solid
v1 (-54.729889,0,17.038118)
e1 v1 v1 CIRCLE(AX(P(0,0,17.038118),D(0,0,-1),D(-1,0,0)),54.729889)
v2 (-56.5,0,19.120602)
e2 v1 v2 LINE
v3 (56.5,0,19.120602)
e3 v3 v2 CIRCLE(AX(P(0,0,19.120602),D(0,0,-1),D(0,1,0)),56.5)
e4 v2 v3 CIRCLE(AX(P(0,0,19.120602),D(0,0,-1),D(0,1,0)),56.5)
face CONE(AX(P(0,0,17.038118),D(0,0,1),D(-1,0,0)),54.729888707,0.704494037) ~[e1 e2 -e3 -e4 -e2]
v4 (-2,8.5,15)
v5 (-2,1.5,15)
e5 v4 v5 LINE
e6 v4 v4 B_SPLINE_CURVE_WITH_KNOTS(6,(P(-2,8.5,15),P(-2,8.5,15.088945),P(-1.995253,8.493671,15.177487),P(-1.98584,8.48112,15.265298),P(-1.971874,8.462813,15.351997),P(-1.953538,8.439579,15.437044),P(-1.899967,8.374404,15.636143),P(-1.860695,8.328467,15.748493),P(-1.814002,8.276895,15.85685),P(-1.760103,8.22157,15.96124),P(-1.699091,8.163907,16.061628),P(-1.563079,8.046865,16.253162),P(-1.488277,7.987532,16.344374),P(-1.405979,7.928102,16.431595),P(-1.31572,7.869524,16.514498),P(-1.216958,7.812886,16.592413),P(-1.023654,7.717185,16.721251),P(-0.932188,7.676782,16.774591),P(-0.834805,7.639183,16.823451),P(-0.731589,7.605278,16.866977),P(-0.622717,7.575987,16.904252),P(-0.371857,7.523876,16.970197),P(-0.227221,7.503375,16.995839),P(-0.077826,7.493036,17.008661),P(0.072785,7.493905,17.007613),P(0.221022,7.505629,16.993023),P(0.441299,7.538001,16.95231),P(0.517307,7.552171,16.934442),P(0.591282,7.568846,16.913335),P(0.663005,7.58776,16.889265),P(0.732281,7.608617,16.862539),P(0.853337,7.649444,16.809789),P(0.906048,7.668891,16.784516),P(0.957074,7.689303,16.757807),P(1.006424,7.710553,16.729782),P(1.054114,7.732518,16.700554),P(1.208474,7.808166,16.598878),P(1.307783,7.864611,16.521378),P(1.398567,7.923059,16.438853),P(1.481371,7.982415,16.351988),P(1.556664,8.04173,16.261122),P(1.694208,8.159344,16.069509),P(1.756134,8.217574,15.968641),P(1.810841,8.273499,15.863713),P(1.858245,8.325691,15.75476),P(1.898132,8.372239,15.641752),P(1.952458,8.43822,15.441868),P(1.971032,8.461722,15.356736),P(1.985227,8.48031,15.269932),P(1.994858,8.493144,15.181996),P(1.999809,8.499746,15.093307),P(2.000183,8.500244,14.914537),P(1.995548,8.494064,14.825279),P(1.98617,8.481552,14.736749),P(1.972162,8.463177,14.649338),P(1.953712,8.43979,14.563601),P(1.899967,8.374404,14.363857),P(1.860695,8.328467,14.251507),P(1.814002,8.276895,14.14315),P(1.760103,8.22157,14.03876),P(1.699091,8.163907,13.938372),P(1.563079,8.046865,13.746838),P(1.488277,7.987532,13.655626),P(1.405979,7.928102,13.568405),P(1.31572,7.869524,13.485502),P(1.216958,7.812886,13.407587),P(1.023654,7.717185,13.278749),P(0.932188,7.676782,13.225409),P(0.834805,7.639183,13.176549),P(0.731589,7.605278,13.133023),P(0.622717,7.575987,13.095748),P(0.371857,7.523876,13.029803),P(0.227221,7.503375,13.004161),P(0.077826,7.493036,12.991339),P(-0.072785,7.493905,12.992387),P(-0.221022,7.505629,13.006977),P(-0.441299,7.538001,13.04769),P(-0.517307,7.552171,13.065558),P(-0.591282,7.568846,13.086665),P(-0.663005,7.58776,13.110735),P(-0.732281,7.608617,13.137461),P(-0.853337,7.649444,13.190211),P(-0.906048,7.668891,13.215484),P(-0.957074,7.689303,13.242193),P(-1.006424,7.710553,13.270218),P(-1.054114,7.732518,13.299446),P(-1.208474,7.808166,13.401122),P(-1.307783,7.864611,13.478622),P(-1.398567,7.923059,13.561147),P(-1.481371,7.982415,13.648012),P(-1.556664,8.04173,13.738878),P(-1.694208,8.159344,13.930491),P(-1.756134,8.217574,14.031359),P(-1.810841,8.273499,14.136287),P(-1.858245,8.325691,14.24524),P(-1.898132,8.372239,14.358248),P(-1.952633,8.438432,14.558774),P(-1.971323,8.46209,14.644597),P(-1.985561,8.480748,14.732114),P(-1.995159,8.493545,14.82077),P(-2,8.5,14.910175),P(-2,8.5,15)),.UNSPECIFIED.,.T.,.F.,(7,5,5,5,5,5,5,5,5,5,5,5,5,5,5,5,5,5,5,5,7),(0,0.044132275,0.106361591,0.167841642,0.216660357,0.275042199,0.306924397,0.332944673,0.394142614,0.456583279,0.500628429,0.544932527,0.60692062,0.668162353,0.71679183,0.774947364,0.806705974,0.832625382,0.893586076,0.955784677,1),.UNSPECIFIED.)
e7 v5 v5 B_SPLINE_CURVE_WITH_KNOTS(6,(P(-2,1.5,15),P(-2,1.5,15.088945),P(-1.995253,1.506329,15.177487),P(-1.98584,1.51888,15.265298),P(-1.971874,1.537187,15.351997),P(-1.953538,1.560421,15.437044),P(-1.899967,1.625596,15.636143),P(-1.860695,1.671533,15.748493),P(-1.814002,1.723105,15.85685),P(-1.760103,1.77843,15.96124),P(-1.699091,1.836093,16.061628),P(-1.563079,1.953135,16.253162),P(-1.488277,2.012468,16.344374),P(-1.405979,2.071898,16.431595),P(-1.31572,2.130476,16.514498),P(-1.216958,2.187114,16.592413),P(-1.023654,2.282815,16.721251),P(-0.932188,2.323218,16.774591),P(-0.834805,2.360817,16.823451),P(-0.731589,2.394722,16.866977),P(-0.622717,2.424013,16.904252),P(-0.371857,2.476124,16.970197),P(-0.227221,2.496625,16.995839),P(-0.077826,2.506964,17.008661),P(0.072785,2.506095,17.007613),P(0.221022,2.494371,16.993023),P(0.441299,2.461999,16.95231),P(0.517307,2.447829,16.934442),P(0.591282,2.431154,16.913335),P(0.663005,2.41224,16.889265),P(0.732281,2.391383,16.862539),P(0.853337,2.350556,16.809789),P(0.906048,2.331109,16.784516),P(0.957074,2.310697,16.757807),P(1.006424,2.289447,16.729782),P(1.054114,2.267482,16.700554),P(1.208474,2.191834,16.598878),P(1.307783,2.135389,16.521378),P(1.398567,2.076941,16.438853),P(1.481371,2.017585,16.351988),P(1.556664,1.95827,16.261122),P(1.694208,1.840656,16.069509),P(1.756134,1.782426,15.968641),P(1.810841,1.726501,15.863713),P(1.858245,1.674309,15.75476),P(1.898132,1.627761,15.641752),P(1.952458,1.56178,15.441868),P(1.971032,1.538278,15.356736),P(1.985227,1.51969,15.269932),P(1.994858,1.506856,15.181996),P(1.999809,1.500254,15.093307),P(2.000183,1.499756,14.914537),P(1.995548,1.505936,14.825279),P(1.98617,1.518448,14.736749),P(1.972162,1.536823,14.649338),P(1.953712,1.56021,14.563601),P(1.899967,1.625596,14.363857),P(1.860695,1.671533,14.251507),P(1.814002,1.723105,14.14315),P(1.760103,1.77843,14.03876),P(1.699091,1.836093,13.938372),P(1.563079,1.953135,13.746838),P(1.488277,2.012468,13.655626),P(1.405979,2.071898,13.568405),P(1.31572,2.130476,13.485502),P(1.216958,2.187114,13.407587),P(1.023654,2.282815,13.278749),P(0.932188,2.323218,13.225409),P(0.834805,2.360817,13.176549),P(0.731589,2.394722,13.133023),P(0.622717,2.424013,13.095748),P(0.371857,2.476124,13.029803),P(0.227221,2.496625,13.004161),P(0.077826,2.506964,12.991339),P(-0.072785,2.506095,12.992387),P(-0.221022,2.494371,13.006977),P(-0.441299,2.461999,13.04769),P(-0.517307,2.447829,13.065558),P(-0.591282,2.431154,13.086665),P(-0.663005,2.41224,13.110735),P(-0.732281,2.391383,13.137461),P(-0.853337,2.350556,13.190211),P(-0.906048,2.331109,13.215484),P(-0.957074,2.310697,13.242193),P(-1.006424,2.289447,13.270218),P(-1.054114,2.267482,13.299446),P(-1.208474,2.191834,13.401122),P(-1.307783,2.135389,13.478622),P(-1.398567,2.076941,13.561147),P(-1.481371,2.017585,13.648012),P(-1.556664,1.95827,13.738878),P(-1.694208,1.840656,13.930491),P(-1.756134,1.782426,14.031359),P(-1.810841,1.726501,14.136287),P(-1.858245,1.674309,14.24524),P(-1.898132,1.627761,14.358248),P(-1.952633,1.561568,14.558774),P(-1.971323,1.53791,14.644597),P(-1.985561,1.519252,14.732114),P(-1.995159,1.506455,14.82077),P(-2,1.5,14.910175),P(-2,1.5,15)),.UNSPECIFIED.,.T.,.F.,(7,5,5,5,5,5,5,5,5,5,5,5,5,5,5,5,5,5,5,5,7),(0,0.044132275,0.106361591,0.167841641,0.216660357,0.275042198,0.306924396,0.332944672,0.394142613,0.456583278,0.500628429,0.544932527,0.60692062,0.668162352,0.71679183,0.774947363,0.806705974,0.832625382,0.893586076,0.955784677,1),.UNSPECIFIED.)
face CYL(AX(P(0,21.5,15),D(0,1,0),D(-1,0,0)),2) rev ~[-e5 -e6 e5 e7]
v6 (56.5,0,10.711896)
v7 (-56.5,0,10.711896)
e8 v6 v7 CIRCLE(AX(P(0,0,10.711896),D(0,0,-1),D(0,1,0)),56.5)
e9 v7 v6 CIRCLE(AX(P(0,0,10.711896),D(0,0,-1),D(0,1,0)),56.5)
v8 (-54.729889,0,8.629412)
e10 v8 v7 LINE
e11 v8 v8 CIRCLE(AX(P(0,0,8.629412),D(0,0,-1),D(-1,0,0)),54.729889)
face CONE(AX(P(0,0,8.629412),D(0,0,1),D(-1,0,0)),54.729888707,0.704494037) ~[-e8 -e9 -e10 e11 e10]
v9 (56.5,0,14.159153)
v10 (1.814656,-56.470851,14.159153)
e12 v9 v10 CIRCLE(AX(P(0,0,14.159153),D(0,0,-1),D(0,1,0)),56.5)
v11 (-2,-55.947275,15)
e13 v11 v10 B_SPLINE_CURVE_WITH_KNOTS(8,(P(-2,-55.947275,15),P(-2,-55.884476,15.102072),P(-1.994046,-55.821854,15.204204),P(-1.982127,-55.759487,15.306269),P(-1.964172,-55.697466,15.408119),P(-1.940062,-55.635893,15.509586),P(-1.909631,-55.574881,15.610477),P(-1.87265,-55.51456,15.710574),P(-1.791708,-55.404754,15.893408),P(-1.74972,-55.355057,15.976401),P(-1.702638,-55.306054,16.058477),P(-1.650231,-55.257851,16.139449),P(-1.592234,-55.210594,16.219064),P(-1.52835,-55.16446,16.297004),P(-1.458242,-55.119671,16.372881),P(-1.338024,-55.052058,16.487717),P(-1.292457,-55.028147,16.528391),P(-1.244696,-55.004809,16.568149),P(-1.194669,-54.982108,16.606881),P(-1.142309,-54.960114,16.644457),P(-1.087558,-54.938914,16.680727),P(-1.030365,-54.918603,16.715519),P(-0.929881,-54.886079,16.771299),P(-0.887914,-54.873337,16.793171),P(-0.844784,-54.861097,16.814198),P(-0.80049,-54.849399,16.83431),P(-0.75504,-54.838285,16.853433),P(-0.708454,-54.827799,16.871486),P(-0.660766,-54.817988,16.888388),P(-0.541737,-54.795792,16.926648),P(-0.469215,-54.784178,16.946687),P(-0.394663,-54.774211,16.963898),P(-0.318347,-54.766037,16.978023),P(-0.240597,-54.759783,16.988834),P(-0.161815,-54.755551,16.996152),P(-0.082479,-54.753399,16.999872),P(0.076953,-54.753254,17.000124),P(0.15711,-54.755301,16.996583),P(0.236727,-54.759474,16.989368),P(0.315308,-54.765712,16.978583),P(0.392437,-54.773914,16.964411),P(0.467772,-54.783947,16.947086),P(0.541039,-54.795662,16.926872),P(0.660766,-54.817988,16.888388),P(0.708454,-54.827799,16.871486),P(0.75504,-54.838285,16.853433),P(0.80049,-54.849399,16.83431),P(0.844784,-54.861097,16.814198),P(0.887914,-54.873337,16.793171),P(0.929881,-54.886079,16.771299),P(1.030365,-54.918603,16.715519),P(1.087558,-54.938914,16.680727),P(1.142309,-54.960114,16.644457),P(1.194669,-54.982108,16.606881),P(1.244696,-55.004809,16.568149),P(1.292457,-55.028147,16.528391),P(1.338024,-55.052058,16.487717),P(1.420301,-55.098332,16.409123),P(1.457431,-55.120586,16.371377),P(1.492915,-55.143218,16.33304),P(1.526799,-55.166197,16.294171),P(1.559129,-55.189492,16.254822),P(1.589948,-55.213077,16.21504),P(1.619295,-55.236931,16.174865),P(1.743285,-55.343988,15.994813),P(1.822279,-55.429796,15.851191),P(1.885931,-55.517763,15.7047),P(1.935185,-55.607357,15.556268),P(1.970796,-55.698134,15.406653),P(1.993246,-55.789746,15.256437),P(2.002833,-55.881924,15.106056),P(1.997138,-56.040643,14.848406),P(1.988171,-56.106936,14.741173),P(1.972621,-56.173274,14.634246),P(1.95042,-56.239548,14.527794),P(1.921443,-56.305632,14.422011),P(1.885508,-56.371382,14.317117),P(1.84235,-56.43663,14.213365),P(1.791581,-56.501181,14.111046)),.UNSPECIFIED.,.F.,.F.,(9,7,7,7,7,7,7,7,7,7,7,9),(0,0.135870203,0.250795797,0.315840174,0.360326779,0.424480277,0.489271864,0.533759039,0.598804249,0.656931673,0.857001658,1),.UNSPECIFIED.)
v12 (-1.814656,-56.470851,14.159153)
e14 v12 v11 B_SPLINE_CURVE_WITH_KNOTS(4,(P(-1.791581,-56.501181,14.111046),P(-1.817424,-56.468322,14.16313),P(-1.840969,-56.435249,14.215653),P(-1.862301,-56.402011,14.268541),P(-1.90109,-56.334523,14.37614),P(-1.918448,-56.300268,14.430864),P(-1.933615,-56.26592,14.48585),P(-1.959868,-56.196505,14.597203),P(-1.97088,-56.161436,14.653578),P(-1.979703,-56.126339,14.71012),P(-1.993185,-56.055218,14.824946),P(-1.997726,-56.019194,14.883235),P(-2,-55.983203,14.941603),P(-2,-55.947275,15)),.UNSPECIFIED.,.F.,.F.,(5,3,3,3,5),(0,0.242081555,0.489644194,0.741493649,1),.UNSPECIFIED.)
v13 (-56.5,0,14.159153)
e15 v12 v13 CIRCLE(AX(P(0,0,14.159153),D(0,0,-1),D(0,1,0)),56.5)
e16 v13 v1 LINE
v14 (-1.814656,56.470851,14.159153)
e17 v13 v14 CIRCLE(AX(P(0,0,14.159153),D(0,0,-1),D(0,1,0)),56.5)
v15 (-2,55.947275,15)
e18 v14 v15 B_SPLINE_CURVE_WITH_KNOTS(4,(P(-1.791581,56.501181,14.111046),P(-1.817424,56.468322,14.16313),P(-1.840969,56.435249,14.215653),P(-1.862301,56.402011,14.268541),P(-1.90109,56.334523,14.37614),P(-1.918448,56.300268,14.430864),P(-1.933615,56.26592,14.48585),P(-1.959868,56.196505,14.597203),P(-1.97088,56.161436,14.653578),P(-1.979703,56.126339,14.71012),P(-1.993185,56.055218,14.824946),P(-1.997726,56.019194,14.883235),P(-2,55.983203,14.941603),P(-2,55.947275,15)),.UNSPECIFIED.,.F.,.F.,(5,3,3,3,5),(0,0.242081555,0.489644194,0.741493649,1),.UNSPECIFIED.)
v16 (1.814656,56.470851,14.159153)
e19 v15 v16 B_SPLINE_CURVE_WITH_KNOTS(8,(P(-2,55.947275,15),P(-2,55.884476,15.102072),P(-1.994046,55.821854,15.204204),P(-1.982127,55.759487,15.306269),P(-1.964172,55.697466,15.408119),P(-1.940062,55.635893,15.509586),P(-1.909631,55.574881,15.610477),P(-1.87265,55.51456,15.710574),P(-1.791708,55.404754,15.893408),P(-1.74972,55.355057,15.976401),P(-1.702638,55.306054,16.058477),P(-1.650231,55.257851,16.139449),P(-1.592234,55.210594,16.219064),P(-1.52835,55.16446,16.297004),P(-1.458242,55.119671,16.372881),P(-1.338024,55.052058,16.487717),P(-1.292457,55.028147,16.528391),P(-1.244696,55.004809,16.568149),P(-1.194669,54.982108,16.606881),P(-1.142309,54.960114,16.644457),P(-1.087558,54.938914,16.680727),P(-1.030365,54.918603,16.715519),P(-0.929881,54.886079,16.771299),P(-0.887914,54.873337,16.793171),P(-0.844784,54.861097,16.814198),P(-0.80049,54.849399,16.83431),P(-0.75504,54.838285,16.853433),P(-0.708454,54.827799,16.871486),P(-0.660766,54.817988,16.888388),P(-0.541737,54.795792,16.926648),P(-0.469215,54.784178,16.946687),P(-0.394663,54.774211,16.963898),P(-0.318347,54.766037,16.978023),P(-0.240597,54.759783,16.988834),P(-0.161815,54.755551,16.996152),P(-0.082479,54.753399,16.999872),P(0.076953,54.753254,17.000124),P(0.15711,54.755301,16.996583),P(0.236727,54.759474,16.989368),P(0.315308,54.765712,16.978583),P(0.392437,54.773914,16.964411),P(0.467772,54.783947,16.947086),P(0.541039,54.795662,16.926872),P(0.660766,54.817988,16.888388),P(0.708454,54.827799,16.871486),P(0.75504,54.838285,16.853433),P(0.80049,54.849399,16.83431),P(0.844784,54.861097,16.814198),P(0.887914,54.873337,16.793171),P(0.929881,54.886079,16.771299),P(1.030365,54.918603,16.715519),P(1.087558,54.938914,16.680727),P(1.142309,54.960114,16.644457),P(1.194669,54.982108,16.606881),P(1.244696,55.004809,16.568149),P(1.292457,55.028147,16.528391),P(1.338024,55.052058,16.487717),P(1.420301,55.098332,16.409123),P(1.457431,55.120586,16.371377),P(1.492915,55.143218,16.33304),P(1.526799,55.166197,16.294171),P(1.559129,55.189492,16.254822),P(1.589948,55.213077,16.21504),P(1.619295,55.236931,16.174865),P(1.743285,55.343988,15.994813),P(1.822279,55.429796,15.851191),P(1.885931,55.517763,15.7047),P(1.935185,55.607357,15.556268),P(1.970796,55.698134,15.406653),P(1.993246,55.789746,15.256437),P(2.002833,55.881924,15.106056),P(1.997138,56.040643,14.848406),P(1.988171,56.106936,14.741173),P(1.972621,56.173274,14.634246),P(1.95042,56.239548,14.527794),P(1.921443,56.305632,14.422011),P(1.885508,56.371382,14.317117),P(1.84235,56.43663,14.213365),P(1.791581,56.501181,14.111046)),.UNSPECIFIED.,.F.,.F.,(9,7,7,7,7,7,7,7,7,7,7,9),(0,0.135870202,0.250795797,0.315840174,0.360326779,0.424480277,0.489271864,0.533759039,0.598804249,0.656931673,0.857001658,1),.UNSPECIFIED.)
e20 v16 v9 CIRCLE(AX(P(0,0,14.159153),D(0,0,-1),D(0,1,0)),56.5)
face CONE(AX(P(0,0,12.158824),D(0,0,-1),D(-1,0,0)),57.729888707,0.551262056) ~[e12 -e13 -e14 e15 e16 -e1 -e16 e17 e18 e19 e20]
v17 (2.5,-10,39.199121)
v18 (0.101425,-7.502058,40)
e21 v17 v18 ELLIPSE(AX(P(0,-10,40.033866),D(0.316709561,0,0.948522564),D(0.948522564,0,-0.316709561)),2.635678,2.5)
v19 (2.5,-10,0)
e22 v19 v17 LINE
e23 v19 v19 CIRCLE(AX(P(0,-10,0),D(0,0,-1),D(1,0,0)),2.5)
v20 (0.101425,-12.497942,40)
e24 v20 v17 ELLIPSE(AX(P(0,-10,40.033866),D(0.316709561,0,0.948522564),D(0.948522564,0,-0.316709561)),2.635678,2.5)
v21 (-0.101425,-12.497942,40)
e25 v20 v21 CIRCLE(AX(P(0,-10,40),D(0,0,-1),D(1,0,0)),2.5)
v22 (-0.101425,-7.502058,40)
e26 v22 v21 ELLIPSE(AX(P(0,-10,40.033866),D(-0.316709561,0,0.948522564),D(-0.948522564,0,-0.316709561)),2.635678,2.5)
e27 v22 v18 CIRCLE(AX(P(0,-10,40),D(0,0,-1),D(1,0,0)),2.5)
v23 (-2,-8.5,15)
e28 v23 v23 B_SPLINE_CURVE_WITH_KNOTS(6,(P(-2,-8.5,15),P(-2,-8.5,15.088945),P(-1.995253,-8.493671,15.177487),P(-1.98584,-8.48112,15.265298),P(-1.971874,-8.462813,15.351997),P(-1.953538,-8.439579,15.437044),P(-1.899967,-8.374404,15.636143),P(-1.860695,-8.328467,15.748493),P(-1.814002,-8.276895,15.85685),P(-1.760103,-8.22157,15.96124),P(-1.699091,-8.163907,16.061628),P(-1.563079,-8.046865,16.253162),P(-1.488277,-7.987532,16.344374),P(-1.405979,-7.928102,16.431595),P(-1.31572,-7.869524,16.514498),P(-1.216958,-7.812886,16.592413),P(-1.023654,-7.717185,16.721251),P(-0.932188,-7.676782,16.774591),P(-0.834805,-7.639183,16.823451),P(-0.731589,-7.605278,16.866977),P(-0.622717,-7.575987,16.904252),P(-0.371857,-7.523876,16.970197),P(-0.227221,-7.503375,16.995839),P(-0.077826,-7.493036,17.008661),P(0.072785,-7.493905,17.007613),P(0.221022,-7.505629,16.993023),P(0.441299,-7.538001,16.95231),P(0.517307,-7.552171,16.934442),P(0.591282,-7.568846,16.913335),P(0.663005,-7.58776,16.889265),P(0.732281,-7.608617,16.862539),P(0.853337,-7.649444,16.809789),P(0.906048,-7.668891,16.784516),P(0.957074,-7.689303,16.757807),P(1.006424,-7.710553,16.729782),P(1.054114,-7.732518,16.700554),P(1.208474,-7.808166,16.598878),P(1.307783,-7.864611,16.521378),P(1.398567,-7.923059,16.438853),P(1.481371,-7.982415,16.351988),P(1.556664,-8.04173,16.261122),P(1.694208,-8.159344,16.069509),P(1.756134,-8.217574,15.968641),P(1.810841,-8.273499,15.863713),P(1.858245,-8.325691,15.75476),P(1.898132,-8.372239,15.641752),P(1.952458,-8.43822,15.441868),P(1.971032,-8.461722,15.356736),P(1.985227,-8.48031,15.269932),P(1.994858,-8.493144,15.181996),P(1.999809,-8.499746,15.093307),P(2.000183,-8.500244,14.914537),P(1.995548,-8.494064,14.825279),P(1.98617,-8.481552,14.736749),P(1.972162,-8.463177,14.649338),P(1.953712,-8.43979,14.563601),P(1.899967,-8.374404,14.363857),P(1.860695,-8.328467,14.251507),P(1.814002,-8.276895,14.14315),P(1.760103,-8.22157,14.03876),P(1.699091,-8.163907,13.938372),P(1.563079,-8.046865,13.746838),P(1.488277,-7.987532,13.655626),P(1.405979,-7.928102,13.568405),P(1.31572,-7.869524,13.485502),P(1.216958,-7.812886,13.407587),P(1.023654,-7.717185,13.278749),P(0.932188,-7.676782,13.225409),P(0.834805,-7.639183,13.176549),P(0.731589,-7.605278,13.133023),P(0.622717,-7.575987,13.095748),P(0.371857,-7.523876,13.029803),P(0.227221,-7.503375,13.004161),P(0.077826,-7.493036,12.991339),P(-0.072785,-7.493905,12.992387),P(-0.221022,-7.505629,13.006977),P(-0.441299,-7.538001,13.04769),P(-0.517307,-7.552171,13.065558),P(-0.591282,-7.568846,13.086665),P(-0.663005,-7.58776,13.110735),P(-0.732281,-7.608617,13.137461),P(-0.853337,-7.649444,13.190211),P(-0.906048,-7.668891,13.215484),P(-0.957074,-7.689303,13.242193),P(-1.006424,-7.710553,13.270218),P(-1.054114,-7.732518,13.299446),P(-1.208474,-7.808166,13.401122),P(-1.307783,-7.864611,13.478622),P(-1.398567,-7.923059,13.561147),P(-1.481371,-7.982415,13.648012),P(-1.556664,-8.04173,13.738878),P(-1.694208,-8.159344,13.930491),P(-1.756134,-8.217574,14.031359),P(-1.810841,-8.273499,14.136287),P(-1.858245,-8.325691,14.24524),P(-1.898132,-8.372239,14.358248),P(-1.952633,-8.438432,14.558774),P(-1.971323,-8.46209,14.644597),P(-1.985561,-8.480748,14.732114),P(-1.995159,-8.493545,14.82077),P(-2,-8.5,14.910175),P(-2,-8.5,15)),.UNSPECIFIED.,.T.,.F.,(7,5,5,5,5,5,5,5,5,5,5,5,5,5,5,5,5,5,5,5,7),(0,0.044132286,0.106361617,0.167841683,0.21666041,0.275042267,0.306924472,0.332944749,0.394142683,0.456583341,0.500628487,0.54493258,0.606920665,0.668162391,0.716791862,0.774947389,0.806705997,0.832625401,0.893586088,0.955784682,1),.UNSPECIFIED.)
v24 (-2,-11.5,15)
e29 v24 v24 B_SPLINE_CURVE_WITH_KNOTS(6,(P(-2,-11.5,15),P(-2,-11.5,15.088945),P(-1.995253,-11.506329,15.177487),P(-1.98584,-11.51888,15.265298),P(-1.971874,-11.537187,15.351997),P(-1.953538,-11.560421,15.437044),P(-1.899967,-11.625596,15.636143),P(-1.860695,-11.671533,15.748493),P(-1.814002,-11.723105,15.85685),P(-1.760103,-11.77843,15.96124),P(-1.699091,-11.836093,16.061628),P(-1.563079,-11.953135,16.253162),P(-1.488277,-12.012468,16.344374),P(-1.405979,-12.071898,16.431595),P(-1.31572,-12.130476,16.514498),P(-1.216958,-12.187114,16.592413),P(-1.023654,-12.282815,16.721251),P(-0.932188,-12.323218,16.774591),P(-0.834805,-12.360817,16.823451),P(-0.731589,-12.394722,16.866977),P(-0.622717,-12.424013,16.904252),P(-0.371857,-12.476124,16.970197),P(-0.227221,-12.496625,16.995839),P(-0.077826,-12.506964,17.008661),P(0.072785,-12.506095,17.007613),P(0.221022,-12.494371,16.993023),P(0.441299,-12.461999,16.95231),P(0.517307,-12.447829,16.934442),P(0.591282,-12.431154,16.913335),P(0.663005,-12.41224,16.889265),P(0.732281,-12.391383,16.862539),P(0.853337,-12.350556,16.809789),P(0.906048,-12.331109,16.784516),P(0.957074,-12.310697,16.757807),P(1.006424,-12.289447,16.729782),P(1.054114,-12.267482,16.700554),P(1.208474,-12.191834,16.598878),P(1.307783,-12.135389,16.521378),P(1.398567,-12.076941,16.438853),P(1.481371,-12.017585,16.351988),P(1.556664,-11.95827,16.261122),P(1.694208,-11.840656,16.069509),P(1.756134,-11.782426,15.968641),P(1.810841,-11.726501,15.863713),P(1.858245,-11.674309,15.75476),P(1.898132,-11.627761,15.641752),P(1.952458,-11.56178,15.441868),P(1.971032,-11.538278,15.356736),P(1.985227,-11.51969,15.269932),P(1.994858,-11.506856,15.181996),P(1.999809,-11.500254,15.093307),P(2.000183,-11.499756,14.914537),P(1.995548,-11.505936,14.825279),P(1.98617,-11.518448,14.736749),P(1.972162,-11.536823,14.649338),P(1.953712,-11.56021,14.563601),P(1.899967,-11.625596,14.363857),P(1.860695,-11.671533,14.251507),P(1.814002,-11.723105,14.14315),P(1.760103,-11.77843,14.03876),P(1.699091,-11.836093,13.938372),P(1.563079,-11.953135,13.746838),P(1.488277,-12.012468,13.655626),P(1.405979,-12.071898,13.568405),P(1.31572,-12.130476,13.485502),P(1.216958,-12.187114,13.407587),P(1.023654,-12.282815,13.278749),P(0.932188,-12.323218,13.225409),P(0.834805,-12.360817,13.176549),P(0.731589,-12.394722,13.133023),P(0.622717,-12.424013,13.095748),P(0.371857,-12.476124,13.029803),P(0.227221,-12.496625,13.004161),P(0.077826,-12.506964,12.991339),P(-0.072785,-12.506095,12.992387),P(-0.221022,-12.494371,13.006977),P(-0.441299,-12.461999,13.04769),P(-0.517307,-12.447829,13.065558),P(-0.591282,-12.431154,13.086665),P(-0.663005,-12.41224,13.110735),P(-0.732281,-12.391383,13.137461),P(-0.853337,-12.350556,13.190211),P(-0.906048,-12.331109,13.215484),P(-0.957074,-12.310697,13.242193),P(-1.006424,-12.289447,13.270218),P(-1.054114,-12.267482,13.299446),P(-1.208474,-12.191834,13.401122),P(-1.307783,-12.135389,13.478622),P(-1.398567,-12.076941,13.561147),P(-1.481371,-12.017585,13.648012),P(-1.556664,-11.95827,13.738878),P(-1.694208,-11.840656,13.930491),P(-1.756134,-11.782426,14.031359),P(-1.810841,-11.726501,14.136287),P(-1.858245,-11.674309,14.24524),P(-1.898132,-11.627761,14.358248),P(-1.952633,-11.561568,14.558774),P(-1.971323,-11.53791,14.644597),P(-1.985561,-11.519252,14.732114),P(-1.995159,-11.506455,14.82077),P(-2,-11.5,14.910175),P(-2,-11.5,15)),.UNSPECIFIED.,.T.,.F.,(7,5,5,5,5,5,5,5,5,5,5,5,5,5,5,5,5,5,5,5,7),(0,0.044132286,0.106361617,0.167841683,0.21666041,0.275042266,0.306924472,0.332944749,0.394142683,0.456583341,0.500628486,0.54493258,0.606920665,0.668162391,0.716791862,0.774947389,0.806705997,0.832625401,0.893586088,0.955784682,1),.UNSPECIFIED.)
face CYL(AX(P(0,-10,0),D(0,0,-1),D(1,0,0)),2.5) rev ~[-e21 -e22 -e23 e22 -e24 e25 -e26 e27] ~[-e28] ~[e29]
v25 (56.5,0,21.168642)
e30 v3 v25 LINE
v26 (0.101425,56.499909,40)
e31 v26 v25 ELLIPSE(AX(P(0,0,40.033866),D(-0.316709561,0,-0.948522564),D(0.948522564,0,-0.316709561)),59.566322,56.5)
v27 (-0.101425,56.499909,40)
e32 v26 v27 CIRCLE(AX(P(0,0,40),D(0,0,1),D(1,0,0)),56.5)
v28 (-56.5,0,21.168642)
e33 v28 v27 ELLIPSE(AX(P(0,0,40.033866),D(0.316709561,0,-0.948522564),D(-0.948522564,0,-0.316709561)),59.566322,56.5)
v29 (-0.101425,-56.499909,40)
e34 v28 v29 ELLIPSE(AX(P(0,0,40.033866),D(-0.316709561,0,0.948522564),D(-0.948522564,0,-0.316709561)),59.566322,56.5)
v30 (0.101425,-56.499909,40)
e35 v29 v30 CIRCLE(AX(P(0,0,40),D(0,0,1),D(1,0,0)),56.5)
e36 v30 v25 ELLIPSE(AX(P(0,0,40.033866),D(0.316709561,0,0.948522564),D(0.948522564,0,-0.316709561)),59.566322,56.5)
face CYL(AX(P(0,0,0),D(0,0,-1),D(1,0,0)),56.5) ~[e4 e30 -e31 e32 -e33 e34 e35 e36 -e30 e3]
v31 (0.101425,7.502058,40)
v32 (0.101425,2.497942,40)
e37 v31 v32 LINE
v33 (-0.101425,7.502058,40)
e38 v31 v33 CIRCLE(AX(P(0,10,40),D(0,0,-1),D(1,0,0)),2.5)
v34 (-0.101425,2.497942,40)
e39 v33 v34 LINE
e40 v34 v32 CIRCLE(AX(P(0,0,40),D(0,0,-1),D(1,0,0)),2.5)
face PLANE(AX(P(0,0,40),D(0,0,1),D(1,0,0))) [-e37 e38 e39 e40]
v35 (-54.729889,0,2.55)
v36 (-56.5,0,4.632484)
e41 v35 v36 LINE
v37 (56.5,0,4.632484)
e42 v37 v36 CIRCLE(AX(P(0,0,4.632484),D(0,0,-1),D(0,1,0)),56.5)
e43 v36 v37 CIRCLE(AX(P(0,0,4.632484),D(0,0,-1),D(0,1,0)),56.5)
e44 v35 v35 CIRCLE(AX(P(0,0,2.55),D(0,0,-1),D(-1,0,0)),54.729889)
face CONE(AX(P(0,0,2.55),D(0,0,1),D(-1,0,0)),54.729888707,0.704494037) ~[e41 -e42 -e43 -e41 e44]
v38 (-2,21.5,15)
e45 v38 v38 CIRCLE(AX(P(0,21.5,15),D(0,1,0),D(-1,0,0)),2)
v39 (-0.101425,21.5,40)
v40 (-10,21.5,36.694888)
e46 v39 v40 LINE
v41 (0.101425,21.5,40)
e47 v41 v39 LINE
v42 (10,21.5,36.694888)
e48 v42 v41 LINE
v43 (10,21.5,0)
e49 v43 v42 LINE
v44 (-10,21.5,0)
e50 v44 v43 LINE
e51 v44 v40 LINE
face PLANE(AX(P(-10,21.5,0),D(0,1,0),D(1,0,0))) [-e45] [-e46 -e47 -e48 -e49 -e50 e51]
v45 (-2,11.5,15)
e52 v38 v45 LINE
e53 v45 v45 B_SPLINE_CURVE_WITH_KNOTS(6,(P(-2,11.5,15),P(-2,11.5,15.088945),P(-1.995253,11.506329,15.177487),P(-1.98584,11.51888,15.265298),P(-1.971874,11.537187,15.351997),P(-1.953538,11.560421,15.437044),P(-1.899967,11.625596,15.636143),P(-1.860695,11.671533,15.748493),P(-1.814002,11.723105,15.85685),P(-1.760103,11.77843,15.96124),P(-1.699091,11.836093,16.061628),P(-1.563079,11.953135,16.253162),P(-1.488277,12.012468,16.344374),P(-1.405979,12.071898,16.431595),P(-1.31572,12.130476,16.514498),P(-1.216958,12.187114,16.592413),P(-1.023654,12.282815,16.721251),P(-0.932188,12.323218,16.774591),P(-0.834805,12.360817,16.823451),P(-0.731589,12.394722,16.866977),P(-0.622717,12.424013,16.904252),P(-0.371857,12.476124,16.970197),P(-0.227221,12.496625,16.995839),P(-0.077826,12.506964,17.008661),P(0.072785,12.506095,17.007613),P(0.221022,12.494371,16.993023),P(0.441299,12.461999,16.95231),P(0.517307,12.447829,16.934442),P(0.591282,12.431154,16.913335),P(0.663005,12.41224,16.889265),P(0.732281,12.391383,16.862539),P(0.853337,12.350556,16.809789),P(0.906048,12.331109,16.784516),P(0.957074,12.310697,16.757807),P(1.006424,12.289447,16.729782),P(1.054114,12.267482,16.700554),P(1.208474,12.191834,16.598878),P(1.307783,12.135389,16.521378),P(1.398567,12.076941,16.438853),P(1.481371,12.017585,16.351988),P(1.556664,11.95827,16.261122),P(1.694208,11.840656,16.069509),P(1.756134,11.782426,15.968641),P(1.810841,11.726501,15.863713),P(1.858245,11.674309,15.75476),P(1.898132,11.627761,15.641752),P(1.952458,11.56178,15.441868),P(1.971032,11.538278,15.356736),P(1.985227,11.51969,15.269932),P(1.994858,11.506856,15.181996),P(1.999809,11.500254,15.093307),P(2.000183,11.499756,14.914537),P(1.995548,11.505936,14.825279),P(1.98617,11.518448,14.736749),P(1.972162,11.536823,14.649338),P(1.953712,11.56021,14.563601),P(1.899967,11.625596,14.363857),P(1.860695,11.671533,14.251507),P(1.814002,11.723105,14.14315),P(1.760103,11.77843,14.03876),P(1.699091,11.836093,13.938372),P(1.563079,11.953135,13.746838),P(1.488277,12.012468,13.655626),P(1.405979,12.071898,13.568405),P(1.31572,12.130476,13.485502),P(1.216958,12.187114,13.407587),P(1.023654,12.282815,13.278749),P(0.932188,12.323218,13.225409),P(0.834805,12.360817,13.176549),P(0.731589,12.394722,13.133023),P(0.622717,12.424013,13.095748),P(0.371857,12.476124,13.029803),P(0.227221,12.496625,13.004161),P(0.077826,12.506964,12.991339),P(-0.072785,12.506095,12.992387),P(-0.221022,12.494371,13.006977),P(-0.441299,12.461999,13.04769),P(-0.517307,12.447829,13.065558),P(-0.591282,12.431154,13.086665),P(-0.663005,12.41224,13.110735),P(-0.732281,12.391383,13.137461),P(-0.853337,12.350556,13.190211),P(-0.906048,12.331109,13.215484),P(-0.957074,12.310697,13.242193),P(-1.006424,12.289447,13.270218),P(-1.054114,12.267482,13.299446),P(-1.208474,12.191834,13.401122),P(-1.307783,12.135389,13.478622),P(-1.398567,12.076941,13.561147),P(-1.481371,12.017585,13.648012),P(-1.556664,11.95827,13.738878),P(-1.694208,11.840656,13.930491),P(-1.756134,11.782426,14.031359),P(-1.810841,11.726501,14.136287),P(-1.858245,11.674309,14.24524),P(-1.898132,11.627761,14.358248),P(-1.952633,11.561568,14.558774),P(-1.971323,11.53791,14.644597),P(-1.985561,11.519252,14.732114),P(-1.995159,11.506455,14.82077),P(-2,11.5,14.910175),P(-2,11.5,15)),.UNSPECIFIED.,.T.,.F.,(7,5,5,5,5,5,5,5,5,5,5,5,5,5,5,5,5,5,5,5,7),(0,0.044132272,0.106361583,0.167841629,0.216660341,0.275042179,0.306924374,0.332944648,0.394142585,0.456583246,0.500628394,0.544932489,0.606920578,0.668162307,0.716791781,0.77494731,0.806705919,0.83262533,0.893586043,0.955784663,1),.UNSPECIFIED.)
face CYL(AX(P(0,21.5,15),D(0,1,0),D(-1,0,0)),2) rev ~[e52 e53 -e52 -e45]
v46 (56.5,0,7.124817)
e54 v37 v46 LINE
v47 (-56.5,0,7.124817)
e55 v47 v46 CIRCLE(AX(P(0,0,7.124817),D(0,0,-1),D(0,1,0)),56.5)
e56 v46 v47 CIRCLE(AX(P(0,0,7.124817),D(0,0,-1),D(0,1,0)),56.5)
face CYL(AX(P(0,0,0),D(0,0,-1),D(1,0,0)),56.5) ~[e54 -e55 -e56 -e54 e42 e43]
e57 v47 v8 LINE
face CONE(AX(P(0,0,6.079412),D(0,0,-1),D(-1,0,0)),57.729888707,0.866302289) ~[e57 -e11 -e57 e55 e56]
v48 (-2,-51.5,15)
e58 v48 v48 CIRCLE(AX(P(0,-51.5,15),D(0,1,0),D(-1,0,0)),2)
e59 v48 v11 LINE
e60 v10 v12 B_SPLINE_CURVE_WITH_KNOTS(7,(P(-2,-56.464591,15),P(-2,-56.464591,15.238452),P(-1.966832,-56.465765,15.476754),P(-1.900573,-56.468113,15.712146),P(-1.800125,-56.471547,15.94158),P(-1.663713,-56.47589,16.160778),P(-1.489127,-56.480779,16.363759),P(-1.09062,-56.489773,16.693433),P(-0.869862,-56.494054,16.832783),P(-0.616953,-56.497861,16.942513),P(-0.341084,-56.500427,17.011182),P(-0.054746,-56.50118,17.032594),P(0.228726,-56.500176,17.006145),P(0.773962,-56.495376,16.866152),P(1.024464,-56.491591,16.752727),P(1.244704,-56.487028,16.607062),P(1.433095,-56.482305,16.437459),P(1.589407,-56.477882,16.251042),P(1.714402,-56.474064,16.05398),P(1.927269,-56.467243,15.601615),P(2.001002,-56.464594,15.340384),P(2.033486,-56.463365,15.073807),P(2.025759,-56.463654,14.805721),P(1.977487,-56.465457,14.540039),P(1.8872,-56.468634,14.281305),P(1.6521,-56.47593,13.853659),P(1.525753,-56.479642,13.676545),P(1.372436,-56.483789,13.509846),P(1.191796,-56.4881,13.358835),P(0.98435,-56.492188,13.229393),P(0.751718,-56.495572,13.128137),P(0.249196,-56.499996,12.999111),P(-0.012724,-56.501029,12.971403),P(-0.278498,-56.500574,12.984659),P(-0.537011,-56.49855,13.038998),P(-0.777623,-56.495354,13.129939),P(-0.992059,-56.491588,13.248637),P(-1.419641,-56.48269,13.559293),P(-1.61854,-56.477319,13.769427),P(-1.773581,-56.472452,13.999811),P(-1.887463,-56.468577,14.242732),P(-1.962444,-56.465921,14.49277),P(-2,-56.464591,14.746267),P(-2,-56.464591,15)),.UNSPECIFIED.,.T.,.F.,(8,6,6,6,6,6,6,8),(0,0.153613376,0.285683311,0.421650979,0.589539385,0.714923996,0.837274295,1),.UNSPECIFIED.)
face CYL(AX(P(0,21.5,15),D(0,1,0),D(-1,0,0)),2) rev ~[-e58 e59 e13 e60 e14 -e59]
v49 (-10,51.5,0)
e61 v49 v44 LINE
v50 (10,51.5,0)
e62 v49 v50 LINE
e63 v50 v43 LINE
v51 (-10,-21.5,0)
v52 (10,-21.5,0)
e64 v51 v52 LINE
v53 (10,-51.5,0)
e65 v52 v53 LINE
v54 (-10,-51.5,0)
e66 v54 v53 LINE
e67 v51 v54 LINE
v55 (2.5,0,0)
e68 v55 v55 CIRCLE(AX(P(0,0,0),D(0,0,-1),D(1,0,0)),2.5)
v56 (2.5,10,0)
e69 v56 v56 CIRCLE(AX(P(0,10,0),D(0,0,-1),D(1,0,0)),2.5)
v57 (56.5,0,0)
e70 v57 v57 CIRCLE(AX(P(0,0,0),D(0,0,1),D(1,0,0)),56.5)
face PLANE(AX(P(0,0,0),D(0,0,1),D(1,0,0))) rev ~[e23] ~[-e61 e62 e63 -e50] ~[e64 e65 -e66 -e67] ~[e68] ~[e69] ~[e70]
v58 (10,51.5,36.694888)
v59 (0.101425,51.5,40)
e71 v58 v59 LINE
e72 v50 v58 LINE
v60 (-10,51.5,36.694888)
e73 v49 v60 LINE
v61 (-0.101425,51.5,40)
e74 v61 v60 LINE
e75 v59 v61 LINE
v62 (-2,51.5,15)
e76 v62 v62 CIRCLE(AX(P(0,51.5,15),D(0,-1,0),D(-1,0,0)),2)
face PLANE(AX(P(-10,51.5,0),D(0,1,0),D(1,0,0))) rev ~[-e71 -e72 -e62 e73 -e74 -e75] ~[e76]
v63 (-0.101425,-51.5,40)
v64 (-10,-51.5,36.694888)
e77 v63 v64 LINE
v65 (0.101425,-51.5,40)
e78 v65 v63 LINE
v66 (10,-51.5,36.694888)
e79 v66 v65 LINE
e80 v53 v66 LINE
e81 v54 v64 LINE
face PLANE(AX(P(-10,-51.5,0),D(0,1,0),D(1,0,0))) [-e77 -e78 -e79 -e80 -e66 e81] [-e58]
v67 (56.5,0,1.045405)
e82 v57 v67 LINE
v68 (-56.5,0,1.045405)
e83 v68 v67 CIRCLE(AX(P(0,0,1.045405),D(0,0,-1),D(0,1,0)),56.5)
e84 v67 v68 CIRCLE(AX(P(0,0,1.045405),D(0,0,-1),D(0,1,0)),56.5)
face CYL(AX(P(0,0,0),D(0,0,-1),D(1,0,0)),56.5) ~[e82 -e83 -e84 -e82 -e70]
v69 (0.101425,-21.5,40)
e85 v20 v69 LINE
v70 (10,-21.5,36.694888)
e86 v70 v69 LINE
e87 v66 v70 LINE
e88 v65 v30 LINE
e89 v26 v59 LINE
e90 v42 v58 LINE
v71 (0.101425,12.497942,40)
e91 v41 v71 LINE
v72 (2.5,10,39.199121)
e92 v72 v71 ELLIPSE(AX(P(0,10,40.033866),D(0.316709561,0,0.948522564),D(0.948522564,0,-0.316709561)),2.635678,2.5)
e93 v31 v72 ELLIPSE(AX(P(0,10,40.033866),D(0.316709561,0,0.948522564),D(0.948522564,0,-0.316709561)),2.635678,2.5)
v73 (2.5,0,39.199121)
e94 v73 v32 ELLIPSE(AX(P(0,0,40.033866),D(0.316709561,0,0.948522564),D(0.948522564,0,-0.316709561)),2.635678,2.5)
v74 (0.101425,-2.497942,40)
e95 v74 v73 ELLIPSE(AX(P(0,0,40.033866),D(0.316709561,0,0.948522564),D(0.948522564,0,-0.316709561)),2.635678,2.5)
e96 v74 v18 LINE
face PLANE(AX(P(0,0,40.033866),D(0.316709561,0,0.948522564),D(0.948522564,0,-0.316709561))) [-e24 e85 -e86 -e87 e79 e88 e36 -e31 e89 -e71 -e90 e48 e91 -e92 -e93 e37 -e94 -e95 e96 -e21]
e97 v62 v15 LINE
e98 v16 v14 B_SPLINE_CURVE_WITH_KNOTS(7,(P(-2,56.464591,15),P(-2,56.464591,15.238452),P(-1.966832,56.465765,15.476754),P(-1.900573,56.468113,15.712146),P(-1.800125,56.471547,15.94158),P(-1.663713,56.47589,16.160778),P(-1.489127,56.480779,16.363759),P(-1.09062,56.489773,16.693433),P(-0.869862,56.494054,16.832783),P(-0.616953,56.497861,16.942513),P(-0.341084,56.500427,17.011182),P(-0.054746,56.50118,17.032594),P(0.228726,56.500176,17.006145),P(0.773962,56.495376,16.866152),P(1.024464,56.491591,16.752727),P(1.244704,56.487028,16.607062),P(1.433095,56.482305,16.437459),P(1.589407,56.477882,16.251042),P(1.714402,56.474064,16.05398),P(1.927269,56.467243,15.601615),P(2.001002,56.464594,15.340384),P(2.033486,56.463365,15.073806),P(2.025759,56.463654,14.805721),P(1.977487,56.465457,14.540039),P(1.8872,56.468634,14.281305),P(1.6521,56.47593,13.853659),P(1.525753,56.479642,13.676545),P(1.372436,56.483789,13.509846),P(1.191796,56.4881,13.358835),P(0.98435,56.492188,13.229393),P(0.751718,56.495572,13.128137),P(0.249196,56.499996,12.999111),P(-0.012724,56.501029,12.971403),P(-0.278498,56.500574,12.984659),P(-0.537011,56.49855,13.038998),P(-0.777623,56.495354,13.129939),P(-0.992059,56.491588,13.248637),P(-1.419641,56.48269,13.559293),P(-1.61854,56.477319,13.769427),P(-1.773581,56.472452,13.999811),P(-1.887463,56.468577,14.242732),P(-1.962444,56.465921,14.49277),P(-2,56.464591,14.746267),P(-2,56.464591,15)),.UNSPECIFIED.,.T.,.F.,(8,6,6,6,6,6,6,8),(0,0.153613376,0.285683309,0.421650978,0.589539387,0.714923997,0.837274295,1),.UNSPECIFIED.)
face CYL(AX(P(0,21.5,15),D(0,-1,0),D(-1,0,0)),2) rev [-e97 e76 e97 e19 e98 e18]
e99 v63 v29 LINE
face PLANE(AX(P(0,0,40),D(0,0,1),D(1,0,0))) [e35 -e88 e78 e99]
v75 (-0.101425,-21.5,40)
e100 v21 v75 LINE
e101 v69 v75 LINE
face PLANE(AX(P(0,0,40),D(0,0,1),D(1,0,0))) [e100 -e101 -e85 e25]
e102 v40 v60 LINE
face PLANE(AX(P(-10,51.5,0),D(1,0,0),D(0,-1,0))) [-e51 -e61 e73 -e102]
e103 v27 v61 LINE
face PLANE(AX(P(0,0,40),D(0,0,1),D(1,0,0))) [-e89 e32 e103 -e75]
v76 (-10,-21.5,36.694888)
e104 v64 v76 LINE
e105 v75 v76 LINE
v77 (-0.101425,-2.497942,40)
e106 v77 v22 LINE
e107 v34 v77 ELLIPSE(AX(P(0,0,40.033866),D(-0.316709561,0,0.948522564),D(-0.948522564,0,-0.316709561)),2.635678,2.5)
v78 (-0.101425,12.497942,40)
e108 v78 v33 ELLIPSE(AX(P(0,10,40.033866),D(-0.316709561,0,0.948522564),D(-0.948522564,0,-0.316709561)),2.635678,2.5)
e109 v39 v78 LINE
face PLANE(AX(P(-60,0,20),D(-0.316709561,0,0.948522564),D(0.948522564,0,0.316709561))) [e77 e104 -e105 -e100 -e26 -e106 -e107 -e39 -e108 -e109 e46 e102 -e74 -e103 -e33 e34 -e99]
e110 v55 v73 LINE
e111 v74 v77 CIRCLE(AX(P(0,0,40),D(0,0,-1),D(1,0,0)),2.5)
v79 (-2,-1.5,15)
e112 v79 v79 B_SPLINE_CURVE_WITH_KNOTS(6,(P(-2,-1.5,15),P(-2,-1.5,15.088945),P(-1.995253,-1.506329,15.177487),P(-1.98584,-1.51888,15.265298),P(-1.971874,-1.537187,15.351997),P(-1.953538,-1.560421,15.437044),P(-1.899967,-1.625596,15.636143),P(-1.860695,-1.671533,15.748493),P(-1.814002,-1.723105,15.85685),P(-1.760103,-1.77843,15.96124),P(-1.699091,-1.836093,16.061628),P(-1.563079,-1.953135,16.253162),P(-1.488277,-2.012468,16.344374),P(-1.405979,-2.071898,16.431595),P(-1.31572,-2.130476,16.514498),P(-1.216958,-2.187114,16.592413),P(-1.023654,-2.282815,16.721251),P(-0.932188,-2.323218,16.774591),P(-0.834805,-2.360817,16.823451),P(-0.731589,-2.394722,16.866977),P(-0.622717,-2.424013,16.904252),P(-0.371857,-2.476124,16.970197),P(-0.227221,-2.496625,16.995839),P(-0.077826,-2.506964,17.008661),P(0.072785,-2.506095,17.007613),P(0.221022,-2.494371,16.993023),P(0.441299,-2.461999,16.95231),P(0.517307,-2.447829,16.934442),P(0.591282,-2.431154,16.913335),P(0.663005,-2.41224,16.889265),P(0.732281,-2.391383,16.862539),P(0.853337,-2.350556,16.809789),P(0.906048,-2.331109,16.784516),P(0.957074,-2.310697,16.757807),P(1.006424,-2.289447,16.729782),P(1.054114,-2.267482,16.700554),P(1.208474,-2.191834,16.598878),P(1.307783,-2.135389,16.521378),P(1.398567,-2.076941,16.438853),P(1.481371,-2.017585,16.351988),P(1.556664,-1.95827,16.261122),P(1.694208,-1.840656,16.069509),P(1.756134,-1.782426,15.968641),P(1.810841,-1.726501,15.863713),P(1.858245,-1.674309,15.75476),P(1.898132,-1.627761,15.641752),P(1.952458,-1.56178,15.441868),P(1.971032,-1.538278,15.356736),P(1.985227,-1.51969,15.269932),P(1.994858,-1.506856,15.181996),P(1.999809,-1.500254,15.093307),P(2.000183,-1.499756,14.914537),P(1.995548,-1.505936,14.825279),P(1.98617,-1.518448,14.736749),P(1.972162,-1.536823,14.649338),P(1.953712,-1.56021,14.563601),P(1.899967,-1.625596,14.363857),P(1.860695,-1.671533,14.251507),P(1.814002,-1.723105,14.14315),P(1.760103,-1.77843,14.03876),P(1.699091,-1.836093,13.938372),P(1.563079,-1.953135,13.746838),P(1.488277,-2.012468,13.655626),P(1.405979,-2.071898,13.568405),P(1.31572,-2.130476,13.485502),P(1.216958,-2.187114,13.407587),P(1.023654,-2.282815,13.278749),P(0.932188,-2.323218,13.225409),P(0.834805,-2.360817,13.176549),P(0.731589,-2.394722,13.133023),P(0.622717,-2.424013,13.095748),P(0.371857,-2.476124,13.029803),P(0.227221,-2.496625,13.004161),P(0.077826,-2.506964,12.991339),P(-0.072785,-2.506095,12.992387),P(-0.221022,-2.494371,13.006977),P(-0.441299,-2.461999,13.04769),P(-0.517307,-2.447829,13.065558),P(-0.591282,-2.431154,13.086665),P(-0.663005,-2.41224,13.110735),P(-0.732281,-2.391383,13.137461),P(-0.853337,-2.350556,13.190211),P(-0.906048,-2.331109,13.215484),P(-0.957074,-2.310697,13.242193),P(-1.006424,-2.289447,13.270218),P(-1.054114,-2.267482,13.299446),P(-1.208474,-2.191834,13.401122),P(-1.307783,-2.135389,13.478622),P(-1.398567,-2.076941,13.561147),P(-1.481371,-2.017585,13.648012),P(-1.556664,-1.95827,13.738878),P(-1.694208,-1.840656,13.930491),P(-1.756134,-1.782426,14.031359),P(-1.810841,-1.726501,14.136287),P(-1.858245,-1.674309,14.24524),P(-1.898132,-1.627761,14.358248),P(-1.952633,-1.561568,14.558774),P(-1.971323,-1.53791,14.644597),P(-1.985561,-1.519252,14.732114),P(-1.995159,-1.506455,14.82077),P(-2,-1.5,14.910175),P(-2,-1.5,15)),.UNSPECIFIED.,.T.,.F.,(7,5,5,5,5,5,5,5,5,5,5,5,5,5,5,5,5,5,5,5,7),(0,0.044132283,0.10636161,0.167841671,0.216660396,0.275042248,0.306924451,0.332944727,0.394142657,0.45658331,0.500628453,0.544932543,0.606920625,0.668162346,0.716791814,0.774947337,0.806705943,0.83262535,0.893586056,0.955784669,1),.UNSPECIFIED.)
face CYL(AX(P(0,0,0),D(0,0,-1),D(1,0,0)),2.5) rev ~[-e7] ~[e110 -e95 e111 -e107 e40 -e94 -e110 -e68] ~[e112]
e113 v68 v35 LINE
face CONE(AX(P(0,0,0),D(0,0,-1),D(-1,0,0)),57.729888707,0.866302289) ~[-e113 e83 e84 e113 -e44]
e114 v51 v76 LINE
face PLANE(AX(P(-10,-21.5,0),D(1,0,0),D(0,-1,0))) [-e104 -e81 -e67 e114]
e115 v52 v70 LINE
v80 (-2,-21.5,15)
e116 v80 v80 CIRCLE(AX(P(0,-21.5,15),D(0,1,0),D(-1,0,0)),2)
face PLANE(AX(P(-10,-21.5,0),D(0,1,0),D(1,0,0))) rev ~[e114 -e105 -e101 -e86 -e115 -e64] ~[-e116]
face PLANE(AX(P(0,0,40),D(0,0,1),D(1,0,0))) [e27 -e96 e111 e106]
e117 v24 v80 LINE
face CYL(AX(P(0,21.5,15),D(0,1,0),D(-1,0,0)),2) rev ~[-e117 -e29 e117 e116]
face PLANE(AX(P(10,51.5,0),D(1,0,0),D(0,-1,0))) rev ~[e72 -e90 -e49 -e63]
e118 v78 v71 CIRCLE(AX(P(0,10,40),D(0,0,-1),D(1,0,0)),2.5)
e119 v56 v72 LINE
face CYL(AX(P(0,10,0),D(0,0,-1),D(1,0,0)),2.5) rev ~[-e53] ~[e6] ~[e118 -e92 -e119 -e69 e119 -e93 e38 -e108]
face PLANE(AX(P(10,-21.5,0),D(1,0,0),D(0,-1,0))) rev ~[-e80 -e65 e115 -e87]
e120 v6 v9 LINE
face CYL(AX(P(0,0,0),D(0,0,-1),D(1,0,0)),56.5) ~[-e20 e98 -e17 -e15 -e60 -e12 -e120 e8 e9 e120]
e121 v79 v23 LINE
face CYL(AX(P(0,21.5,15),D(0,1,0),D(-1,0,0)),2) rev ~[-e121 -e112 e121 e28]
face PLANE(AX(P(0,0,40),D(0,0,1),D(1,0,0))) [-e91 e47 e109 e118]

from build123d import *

# Parameters (mm, degrees)
F0_R          = 56.5
F1_DEPTH      = 40
F3_DEPTH      = 56.501
F3_DEPTH_BACK = 56.501
F4_R          = 2.5
F4_W          = 20
F4_H          = 30
F5_DEPTH      = 40.001
F6_R          = 2
F7_DEPTH      = 78.001
F7_DEPTH_BACK = 35.001


with BuildPart() as f1:
    # F0 (on Top) → F1 (new body)
    with BuildSketch(Plane.XY):
        Circle(F0_R)
    extrude(amount=F1_DEPTH)

    # F2 (on Front) → F3 (cut, two sides)
    with BuildSketch(Plane.XZ) as f3_sk:
        Polygon((-60, 20), (0, 40.03386572), (60, 20), (60, 50.03386572), (0, 50.03386572), (-60, 50.03386572), align=None)
    extrude(amount=-F3_DEPTH, mode=Mode.SUBTRACT)
    extrude(f3_sk.sketch, amount=F3_DEPTH_BACK, mode=Mode.SUBTRACT)

    # F4 (on face) → F5 (cut, through all)
    with BuildSketch(Plane(origin=(0, 0, 0), x_dir=(1, 0, 0), z_dir=(0, 0, -1))):
        Circle(F4_R)
        with Locations((0, -10)):
            Circle(F4_R)
        with Locations((0, 10)):
            Circle(F4_R)
        with Locations((0, 36.5)):
            Rectangle(F4_W, F4_H)
        with Locations((0, -36.5)):
            Rectangle(F4_W, F4_H)
    extrude(amount=-F5_DEPTH, mode=Mode.SUBTRACT)

    # F6 (on face) → F7 (cut, two sides)
    with BuildSketch(Plane(origin=(0, 21.5, 0), x_dir=(-1, 0, 0), z_dir=(0, 1, 0))) as f7_sk:
        with Locations((0, 15)):
            Circle(F6_R)
    extrude(amount=-F7_DEPTH, mode=Mode.SUBTRACT)
    extrude(f7_sk.sketch, amount=F7_DEPTH_BACK, mode=Mode.SUBTRACT)

    # F8 (on Front) → F9 (revolve, cut)
    with BuildSketch(Plane.XZ):
        Polygon((-54.7298887074, 17.0381178779), (-57.7298887074, 20.5675298348), (-93.4339091182, 20.5675298348), (-93.4339091182, 0), (-57.7298887074, 0), (-54.7298887074, 2.5499998611), (-57.7298887074, 6.0794118181), (-54.7298887074, 8.6294116792), (-57.7298887074, 12.1588236361), align=None)
    revolve(axis=Axis((0, 0, 23.785918951), (0, 0, -1)), mode=Mode.SUBTRACT)


solid = f1.part
